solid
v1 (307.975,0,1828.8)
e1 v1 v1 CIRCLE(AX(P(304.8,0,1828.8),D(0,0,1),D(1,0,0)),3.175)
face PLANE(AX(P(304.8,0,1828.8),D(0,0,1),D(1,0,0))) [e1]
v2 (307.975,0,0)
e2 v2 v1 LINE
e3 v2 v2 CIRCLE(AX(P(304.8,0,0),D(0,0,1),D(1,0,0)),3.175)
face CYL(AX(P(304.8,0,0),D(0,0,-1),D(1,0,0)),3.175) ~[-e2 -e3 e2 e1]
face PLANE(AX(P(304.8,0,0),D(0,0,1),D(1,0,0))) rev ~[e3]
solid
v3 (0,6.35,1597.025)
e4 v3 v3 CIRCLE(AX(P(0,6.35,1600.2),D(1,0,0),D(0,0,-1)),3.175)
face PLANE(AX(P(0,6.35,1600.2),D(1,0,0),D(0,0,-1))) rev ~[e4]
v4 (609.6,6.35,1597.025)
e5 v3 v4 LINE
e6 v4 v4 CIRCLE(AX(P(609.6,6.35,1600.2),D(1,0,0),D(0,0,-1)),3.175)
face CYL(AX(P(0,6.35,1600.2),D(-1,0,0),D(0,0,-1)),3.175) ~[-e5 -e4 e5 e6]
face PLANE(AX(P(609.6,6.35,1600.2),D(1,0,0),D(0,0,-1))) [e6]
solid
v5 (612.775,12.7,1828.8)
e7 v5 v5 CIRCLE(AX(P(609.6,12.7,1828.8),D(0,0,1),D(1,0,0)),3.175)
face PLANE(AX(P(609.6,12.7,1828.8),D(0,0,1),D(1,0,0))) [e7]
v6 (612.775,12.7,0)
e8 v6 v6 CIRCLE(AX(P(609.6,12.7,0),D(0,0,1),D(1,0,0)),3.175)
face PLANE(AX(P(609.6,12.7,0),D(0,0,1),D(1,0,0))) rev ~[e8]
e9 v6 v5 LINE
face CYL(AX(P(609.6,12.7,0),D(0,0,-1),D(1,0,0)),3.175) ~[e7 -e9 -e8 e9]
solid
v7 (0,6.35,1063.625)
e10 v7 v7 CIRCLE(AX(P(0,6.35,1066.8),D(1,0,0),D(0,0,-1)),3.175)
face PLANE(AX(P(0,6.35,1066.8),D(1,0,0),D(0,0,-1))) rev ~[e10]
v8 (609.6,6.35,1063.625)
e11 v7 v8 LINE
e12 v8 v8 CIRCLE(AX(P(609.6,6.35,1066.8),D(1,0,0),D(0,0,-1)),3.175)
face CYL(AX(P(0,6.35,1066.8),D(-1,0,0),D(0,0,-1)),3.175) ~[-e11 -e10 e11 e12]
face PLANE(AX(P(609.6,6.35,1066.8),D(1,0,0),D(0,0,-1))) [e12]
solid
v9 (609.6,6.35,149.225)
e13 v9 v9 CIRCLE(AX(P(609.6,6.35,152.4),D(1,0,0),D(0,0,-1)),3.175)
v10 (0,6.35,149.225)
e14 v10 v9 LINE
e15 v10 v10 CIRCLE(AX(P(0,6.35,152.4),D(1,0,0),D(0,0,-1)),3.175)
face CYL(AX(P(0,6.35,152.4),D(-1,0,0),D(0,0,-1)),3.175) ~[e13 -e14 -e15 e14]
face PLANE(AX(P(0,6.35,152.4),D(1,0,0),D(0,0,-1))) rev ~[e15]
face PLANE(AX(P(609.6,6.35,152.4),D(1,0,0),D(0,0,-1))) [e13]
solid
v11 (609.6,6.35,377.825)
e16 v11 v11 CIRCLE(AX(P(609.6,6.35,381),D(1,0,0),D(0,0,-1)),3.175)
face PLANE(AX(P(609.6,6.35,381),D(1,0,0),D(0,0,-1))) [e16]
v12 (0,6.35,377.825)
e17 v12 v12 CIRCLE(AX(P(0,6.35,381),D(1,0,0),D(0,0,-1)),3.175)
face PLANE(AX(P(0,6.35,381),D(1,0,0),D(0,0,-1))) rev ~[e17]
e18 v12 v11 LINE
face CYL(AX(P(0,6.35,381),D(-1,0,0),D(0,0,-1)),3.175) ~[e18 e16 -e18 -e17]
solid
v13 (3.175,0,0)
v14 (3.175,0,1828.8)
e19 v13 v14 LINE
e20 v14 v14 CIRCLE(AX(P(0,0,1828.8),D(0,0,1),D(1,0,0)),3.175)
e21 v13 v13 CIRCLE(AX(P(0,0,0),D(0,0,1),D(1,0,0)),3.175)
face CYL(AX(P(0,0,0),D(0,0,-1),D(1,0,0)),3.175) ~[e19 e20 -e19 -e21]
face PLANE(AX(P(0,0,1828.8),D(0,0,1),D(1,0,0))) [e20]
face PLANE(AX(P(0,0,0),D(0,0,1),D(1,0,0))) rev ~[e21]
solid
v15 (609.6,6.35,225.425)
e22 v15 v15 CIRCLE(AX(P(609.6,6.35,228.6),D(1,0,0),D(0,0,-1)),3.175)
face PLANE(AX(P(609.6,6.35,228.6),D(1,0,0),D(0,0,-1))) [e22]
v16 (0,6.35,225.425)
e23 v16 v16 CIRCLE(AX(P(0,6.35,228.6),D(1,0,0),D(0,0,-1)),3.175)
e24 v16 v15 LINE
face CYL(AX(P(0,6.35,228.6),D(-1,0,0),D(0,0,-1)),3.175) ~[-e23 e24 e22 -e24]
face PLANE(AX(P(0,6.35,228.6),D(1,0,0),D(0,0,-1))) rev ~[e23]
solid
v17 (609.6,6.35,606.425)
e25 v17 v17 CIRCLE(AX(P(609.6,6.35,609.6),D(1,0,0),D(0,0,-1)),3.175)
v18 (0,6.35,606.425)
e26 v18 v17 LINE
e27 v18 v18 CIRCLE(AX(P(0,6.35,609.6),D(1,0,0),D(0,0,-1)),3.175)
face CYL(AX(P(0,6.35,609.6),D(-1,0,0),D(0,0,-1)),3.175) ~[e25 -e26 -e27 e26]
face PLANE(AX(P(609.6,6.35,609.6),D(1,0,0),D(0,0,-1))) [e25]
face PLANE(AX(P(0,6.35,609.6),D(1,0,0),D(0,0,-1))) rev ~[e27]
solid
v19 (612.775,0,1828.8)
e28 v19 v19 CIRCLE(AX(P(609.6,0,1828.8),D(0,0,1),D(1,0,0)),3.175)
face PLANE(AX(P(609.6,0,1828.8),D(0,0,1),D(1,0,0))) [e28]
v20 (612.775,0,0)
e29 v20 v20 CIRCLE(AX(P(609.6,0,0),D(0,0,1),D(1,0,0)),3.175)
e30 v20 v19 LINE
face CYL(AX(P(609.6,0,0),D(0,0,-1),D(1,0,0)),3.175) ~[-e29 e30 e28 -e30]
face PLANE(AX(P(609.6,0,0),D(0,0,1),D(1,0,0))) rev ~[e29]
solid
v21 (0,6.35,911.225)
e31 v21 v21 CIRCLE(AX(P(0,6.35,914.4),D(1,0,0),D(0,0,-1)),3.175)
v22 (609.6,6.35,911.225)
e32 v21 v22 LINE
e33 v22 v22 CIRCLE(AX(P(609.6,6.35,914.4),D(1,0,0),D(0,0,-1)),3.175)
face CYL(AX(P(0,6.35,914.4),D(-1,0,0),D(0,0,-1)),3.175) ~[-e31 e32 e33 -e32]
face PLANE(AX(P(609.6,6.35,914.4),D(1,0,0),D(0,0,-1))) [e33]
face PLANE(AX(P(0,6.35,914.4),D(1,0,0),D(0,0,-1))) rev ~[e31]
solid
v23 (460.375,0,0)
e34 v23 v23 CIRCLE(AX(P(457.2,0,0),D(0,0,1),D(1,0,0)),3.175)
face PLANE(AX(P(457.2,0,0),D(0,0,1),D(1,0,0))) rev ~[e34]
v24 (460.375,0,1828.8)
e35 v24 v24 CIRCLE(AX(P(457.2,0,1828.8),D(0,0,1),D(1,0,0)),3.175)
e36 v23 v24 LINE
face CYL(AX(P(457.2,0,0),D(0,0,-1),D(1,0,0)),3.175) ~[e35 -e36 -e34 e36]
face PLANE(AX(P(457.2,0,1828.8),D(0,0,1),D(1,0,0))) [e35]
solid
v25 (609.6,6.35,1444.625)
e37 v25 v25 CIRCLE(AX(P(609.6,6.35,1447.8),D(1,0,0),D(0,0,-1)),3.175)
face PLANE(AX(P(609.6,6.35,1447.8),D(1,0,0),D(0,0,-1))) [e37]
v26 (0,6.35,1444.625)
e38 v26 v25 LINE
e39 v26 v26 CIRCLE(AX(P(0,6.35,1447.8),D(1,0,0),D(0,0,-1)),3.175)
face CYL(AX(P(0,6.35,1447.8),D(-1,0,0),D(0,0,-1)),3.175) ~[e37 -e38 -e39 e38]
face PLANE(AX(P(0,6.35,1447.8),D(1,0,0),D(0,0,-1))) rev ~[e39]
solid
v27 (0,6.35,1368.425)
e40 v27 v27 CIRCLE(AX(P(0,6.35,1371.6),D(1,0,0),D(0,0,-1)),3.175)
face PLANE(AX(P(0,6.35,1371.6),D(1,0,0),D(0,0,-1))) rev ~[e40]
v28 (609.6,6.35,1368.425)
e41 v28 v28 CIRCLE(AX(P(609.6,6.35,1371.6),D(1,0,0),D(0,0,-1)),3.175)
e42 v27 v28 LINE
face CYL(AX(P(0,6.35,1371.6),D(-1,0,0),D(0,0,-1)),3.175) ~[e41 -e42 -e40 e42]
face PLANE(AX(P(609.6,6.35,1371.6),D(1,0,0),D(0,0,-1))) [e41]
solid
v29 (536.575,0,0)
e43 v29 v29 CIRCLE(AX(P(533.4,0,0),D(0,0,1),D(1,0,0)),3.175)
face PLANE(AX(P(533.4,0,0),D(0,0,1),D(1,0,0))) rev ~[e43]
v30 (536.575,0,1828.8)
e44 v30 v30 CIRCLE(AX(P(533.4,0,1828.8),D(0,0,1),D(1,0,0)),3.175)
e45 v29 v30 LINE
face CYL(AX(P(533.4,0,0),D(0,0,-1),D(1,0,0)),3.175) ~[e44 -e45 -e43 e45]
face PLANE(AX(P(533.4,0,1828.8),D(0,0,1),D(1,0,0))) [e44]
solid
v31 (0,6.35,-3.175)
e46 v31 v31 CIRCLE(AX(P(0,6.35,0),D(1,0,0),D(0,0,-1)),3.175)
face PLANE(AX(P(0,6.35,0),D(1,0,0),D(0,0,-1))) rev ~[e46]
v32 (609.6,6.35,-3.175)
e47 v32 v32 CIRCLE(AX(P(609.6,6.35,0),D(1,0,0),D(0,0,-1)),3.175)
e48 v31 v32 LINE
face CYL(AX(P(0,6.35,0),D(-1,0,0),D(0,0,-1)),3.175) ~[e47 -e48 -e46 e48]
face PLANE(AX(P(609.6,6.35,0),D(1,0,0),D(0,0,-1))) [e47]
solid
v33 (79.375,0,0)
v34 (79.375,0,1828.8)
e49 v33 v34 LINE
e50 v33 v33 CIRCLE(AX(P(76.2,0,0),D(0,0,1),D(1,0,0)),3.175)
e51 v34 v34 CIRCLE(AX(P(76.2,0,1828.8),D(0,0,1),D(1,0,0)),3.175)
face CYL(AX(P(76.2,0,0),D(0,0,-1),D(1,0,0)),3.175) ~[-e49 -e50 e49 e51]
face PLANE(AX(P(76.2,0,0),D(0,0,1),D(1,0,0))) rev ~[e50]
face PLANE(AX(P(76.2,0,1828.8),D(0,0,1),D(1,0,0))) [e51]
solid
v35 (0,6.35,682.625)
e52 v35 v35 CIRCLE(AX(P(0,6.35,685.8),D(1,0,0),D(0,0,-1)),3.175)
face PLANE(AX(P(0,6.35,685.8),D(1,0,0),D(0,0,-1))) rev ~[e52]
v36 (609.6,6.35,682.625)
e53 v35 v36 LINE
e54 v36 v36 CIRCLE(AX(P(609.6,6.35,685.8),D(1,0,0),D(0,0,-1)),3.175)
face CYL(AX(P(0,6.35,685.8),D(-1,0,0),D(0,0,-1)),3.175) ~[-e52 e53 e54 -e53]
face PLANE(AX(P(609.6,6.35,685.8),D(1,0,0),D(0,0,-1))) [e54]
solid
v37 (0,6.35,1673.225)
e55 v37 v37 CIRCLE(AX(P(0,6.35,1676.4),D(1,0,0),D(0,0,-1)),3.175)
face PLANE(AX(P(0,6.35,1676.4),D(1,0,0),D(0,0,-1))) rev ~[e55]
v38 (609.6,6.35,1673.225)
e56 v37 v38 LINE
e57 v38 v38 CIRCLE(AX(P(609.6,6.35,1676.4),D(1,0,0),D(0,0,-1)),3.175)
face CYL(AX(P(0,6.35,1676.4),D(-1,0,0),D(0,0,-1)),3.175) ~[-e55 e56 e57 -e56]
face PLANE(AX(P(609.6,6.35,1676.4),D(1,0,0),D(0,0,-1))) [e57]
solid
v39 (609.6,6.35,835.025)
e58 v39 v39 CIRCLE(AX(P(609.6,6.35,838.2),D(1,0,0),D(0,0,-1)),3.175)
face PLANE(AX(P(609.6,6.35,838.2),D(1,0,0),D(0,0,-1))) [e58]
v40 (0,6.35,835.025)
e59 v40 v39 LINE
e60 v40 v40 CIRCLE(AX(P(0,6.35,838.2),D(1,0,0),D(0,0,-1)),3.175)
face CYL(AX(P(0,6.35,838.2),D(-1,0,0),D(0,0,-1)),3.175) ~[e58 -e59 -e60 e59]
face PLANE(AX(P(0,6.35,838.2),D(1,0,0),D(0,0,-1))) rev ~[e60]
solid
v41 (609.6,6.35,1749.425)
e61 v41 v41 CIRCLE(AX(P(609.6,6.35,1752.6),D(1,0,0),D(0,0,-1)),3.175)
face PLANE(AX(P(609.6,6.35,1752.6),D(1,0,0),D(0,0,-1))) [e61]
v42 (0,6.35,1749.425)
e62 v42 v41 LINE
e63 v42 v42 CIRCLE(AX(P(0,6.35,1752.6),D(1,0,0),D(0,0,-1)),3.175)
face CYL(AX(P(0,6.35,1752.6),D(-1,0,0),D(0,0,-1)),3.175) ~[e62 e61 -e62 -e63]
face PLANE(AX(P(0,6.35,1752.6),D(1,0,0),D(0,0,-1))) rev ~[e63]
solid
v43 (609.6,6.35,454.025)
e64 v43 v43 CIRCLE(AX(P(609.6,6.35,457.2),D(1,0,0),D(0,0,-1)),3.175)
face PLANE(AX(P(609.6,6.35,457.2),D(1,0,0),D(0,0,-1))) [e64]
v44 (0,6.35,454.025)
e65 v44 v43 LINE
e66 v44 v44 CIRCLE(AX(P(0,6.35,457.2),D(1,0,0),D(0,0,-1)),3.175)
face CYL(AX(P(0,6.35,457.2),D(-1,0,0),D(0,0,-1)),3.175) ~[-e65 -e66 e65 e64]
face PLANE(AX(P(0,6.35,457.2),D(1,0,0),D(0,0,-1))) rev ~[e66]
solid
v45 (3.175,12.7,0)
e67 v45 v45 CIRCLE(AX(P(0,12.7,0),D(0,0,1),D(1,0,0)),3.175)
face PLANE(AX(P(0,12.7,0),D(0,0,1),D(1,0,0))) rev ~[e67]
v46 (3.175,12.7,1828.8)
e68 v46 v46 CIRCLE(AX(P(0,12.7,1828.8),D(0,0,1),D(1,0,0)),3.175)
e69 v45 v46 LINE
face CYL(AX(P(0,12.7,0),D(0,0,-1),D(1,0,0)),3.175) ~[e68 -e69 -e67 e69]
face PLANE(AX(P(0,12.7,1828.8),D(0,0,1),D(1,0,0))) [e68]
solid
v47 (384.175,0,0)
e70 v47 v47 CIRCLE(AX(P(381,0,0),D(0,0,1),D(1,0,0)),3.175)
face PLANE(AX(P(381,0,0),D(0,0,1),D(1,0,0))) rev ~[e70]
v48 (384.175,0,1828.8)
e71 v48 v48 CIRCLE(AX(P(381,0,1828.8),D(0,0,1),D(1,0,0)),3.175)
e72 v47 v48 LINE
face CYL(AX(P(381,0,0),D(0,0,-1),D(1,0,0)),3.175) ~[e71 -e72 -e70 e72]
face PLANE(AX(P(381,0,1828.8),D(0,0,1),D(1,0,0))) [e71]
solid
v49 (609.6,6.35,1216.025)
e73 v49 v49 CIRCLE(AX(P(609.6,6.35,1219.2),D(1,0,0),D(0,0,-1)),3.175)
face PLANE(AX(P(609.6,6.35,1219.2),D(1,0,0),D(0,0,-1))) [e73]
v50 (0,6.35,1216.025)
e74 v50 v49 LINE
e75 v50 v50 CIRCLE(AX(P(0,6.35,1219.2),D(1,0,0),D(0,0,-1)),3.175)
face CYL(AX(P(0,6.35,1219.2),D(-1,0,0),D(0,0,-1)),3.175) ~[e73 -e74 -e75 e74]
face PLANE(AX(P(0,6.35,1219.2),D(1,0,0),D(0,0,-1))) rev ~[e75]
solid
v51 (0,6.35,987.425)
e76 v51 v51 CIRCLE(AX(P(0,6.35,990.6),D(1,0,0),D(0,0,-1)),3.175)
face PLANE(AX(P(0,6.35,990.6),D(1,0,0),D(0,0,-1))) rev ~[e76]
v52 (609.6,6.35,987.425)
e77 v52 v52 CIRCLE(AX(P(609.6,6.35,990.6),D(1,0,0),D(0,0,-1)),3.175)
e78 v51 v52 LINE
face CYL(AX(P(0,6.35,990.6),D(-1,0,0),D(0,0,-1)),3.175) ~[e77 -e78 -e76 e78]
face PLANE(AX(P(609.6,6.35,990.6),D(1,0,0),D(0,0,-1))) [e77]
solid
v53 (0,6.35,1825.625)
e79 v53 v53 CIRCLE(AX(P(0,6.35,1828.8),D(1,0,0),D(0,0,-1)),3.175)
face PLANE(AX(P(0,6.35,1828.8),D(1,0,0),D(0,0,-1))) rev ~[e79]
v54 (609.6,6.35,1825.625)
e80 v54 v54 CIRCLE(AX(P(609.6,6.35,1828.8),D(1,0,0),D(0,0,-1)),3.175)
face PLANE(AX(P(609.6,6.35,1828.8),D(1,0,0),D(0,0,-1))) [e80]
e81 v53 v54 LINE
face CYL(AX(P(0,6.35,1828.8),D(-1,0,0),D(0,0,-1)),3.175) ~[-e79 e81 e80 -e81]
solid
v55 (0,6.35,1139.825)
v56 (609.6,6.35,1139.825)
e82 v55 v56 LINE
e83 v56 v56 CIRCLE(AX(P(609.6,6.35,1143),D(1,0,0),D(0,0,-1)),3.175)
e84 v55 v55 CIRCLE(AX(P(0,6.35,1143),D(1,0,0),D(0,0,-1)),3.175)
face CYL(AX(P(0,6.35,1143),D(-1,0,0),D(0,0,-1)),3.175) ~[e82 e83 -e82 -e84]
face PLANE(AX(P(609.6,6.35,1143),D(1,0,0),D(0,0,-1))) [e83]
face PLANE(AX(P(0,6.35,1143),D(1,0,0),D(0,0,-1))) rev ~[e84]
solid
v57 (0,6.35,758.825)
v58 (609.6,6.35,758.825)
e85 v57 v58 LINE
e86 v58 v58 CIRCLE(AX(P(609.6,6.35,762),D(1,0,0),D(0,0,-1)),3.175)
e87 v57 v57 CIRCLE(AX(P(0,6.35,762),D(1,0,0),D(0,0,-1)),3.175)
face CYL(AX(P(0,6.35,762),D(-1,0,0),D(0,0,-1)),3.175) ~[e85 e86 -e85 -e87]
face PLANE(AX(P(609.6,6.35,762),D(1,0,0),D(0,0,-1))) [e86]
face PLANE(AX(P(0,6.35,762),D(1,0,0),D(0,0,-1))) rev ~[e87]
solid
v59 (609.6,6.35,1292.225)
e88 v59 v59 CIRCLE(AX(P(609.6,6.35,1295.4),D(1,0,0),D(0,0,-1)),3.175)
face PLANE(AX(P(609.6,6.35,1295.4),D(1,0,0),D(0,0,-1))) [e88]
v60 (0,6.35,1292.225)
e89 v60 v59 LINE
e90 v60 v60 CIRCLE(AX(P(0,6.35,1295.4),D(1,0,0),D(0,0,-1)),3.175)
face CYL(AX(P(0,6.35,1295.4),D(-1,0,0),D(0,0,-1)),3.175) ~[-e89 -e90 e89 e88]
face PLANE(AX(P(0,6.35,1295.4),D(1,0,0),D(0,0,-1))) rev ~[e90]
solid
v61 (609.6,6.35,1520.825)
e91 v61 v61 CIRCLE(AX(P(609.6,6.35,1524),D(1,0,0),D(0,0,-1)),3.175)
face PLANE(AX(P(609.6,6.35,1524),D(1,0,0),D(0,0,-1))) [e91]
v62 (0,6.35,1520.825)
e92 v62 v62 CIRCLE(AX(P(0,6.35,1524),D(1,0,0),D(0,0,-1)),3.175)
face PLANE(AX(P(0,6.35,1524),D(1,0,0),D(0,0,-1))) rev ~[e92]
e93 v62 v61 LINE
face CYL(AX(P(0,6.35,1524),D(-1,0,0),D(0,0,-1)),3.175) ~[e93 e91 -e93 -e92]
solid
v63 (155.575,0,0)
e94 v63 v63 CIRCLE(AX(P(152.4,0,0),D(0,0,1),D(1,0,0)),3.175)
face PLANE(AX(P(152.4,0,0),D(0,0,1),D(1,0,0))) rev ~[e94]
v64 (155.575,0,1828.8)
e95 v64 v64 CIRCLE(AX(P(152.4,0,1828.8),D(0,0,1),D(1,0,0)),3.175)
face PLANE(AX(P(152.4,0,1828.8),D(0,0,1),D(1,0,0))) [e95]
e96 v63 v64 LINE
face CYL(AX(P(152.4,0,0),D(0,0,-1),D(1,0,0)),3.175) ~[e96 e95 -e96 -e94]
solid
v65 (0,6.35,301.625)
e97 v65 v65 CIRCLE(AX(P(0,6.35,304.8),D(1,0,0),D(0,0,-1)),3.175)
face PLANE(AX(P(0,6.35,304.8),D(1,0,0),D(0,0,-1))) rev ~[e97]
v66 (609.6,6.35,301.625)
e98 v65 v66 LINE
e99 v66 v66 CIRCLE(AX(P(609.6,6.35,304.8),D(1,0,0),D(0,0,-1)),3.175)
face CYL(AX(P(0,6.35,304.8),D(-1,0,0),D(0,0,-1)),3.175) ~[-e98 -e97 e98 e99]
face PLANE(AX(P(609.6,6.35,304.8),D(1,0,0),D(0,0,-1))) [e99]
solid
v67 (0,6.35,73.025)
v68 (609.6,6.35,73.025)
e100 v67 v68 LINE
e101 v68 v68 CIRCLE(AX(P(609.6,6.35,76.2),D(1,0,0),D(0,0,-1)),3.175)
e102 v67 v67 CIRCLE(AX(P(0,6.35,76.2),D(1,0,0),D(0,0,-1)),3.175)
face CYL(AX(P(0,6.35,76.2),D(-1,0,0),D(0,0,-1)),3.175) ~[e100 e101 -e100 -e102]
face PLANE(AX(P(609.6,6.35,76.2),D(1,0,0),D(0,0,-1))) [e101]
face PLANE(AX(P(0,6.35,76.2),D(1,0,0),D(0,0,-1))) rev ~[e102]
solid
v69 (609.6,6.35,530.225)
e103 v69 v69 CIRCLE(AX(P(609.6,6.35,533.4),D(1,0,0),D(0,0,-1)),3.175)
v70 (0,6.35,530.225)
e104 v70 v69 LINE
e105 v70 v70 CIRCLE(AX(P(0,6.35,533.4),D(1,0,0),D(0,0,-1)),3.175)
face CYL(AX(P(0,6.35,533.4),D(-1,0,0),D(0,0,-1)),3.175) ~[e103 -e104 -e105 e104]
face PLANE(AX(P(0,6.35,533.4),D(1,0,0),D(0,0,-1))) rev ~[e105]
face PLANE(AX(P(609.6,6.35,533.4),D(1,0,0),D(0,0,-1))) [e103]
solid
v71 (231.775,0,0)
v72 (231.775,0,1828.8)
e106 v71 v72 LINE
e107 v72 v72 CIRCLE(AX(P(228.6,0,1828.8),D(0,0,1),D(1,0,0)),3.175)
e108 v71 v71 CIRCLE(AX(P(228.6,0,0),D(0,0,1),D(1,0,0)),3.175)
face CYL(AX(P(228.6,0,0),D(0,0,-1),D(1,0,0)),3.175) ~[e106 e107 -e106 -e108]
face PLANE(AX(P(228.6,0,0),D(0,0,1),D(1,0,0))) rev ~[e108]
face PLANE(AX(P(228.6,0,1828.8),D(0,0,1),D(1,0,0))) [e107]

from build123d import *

# Parameters (mm, degrees)
SKETCH1_R              = 3.175
BOSS_EXTRUDE1_DEPTH    = 1828.8
BOSS_EXTRUDE1_2_DEPTH  = 1828.8
BOSS_EXTRUDE1_3_DEPTH  = 1828.8
BOSS_EXTRUDE1_4_DEPTH  = 1828.8
BOSS_EXTRUDE1_5_DEPTH  = 1828.8
BOSS_EXTRUDE1_6_DEPTH  = 1828.8
BOSS_EXTRUDE1_7_DEPTH  = 1828.8
BOSS_EXTRUDE1_8_DEPTH  = 1828.8
BOSS_EXTRUDE1_9_DEPTH  = 1828.8
BOSS_EXTRUDE1_10_DEPTH = 1828.8
BOSS_EXTRUDE1_11_DEPTH = 1828.8
SKETCH2_R              = 3.175
BOSS_EXTRUDE2_DEPTH    = 609.6
BOSS_EXTRUDE2_2_DEPTH  = 609.6
BOSS_EXTRUDE2_3_DEPTH  = 609.6
BOSS_EXTRUDE2_4_DEPTH  = 609.6
BOSS_EXTRUDE2_5_DEPTH  = 609.6
BOSS_EXTRUDE2_6_DEPTH  = 609.6
BOSS_EXTRUDE2_7_DEPTH  = 609.6
BOSS_EXTRUDE2_8_DEPTH  = 609.6
BOSS_EXTRUDE2_9_DEPTH  = 609.6
BOSS_EXTRUDE2_10_DEPTH = 609.6
BOSS_EXTRUDE2_11_DEPTH = 609.6
BOSS_EXTRUDE2_12_DEPTH = 609.6
BOSS_EXTRUDE2_13_DEPTH = 609.6
BOSS_EXTRUDE2_14_DEPTH = 609.6
BOSS_EXTRUDE2_15_DEPTH = 609.6
BOSS_EXTRUDE2_16_DEPTH = 609.6
BOSS_EXTRUDE2_17_DEPTH = 609.6
BOSS_EXTRUDE2_18_DEPTH = 609.6
BOSS_EXTRUDE2_19_DEPTH = 609.6
BOSS_EXTRUDE2_20_DEPTH = 609.6
BOSS_EXTRUDE2_21_DEPTH = 609.6
BOSS_EXTRUDE2_22_DEPTH = 609.6
BOSS_EXTRUDE2_23_DEPTH = 609.6
BOSS_EXTRUDE2_24_DEPTH = 609.6
BOSS_EXTRUDE2_25_DEPTH = 609.6


with BuildPart() as part:
    # Sketch1 → Boss-Extrude1 (new body)
    with BuildSketch(Plane.XY):
        Circle(SKETCH1_R)
    extrude(amount=BOSS_EXTRUDE1_DEPTH)


with BuildPart() as body_2:
    # Sketch1 → Boss-Extrude1 2 (new body)
    with BuildSketch(Plane.XY):
        with Locations((0, 12.7)):
            Circle(SKETCH1_R)
    extrude(amount=BOSS_EXTRUDE1_2_DEPTH)


with BuildPart() as body_3:
    # Sketch1 → Boss-Extrude1 3 (new body)
    with BuildSketch(Plane.XY):
        with Locations((76.2, 0)):
            Circle(SKETCH1_R)
    extrude(amount=BOSS_EXTRUDE1_3_DEPTH)


with BuildPart() as body_4:
    # Sketch1 → Boss-Extrude1 4 (new body)
    with BuildSketch(Plane.XY):
        with Locations((152.4, 0)):
            Circle(SKETCH1_R)
    extrude(amount=BOSS_EXTRUDE1_4_DEPTH)


with BuildPart() as body_5:
    # Sketch1 → Boss-Extrude1 5 (new body)
    with BuildSketch(Plane.XY):
        with Locations((228.6, 0)):
            Circle(SKETCH1_R)
    extrude(amount=BOSS_EXTRUDE1_5_DEPTH)


with BuildPart() as body_6:
    # Sketch1 → Boss-Extrude1 6 (new body)
    with BuildSketch(Plane.XY):
        with Locations((304.8, 0)):
            Circle(SKETCH1_R)
    extrude(amount=BOSS_EXTRUDE1_6_DEPTH)


with BuildPart() as body_7:
    # Sketch1 → Boss-Extrude1 7 (new body)
    with BuildSketch(Plane.XY):
        with Locations((381, 0)):
            Circle(SKETCH1_R)
    extrude(amount=BOSS_EXTRUDE1_7_DEPTH)


with BuildPart() as body_8:
    # Sketch1 → Boss-Extrude1 8 (new body)
    with BuildSketch(Plane.XY):
        with Locations((457.2, 0)):
            Circle(SKETCH1_R)
    extrude(amount=BOSS_EXTRUDE1_8_DEPTH)


with BuildPart() as body_9:
    # Sketch1 → Boss-Extrude1 9 (new body)
    with BuildSketch(Plane.XY):
        with Locations((533.4, 0)):
            Circle(SKETCH1_R)
    extrude(amount=BOSS_EXTRUDE1_9_DEPTH)


with BuildPart() as body_10:
    # Sketch1 → Boss-Extrude1 10 (new body)
    with BuildSketch(Plane.XY):
        with Locations((609.6, 0)):
            Circle(SKETCH1_R)
    extrude(amount=BOSS_EXTRUDE1_10_DEPTH)


with BuildPart() as body_11:
    # Sketch1 → Boss-Extrude1 11 (new body)
    with BuildSketch(Plane.XY):
        with Locations((609.6, 12.7)):
            Circle(SKETCH1_R)
    extrude(amount=BOSS_EXTRUDE1_11_DEPTH)


with BuildPart() as body_12:
    # Sketch2 → Boss-Extrude2 (new body)
    with BuildSketch(Plane(origin=(0, 0, 0), x_dir=(0, 0, -1), z_dir=(1, 0, 0))):
        with Locations((0, 6.35)):
            Circle(SKETCH2_R)
    extrude(amount=BOSS_EXTRUDE2_DEPTH)


with BuildPart() as body_13:
    # Sketch2 → Boss-Extrude2 2 (new body)
    with BuildSketch(Plane(origin=(0, 0, 0), x_dir=(0, 0, -1), z_dir=(1, 0, 0))):
        with Locations((-76.2, 6.35)):
            Circle(SKETCH2_R)
    extrude(amount=BOSS_EXTRUDE2_2_DEPTH)


with BuildPart() as body_14:
    # Sketch2 → Boss-Extrude2 3 (new body)
    with BuildSketch(Plane(origin=(0, 0, 0), x_dir=(0, 0, -1), z_dir=(1, 0, 0))):
        with Locations((-152.4, 6.35)):
            Circle(SKETCH2_R)
    extrude(amount=BOSS_EXTRUDE2_3_DEPTH)


with BuildPart() as body_15:
    # Sketch2 → Boss-Extrude2 4 (new body)
    with BuildSketch(Plane(origin=(0, 0, 0), x_dir=(0, 0, -1), z_dir=(1, 0, 0))):
        with Locations((-228.6, 6.35)):
            Circle(SKETCH2_R)
    extrude(amount=BOSS_EXTRUDE2_4_DEPTH)


with BuildPart() as body_16:
    # Sketch2 → Boss-Extrude2 5 (new body)
    with BuildSketch(Plane(origin=(0, 0, 0), x_dir=(0, 0, -1), z_dir=(1, 0, 0))):
        with Locations((-304.8, 6.35)):
            Circle(SKETCH2_R)
    extrude(amount=BOSS_EXTRUDE2_5_DEPTH)


with BuildPart() as body_17:
    # Sketch2 → Boss-Extrude2 6 (new body)
    with BuildSketch(Plane(origin=(0, 0, 0), x_dir=(0, 0, -1), z_dir=(1, 0, 0))):
        with Locations((-381, 6.35)):
            Circle(SKETCH2_R)
    extrude(amount=BOSS_EXTRUDE2_6_DEPTH)


with BuildPart() as body_18:
    # Sketch2 → Boss-Extrude2 7 (new body)
    with BuildSketch(Plane(origin=(0, 0, 0), x_dir=(0, 0, -1), z_dir=(1, 0, 0))):
        with Locations((-457.2, 6.35)):
            Circle(SKETCH2_R)
    extrude(amount=BOSS_EXTRUDE2_7_DEPTH)


with BuildPart() as body_19:
    # Sketch2 → Boss-Extrude2 8 (new body)
    with BuildSketch(Plane(origin=(0, 0, 0), x_dir=(0, 0, -1), z_dir=(1, 0, 0))):
        with Locations((-533.4, 6.35)):
            Circle(SKETCH2_R)
    extrude(amount=BOSS_EXTRUDE2_8_DEPTH)


with BuildPart() as body_20:
    # Sketch2 → Boss-Extrude2 9 (new body)
    with BuildSketch(Plane(origin=(0, 0, 0), x_dir=(0, 0, -1), z_dir=(1, 0, 0))):
        with Locations((-609.6, 6.35)):
            Circle(SKETCH2_R)
    extrude(amount=BOSS_EXTRUDE2_9_DEPTH)


with BuildPart() as body_21:
    # Sketch2 → Boss-Extrude2 10 (new body)
    with BuildSketch(Plane(origin=(0, 0, 0), x_dir=(0, 0, -1), z_dir=(1, 0, 0))):
        with Locations((-685.8, 6.35)):
            Circle(SKETCH2_R)
    extrude(amount=BOSS_EXTRUDE2_10_DEPTH)


with BuildPart() as body_22:
    # Sketch2 → Boss-Extrude2 11 (new body)
    with BuildSketch(Plane(origin=(0, 0, 0), x_dir=(0, 0, -1), z_dir=(1, 0, 0))):
        with Locations((-762, 6.35)):
            Circle(SKETCH2_R)
    extrude(amount=BOSS_EXTRUDE2_11_DEPTH)


with BuildPart() as body_23:
    # Sketch2 → Boss-Extrude2 12 (new body)
    with BuildSketch(Plane(origin=(0, 0, 0), x_dir=(0, 0, -1), z_dir=(1, 0, 0))):
        with Locations((-838.2, 6.35)):
            Circle(SKETCH2_R)
    extrude(amount=BOSS_EXTRUDE2_12_DEPTH)


with BuildPart() as body_24:
    # Sketch2 → Boss-Extrude2 13 (new body)
    with BuildSketch(Plane(origin=(0, 0, 0), x_dir=(0, 0, -1), z_dir=(1, 0, 0))):
        with Locations((-914.4, 6.35)):
            Circle(SKETCH2_R)
    extrude(amount=BOSS_EXTRUDE2_13_DEPTH)


with BuildPart() as body_25:
    # Sketch2 → Boss-Extrude2 14 (new body)
    with BuildSketch(Plane(origin=(0, 0, 0), x_dir=(0, 0, -1), z_dir=(1, 0, 0))):
        with Locations((-990.6, 6.35)):
            Circle(SKETCH2_R)
    extrude(amount=BOSS_EXTRUDE2_14_DEPTH)


with BuildPart() as body_26:
    # Sketch2 → Boss-Extrude2 15 (new body)
    with BuildSketch(Plane(origin=(0, 0, 0), x_dir=(0, 0, -1), z_dir=(1, 0, 0))):
        with Locations((-1066.8, 6.35)):
            Circle(SKETCH2_R)
    extrude(amount=BOSS_EXTRUDE2_15_DEPTH)


with BuildPart() as body_27:
    # Sketch2 → Boss-Extrude2 16 (new body)
    with BuildSketch(Plane(origin=(0, 0, 0), x_dir=(0, 0, -1), z_dir=(1, 0, 0))):
        with Locations((-1143, 6.35)):
            Circle(SKETCH2_R)
    extrude(amount=BOSS_EXTRUDE2_16_DEPTH)


with BuildPart() as body_28:
    # Sketch2 → Boss-Extrude2 17 (new body)
    with BuildSketch(Plane(origin=(0, 0, 0), x_dir=(0, 0, -1), z_dir=(1, 0, 0))):
        with Locations((-1219.2, 6.35)):
            Circle(SKETCH2_R)
    extrude(amount=BOSS_EXTRUDE2_17_DEPTH)


with BuildPart() as body_29:
    # Sketch2 → Boss-Extrude2 18 (new body)
    with BuildSketch(Plane(origin=(0, 0, 0), x_dir=(0, 0, -1), z_dir=(1, 0, 0))):
        with Locations((-1295.4, 6.35)):
            Circle(SKETCH2_R)
    extrude(amount=BOSS_EXTRUDE2_18_DEPTH)


with BuildPart() as body_30:
    # Sketch2 → Boss-Extrude2 19 (new body)
    with BuildSketch(Plane(origin=(0, 0, 0), x_dir=(0, 0, -1), z_dir=(1, 0, 0))):
        with Locations((-1371.6, 6.35)):
            Circle(SKETCH2_R)
    extrude(amount=BOSS_EXTRUDE2_19_DEPTH)


with BuildPart() as body_31:
    # Sketch2 → Boss-Extrude2 20 (new body)
    with BuildSketch(Plane(origin=(0, 0, 0), x_dir=(0, 0, -1), z_dir=(1, 0, 0))):
        with Locations((-1447.8, 6.35)):
            Circle(SKETCH2_R)
    extrude(amount=BOSS_EXTRUDE2_20_DEPTH)


with BuildPart() as body_32:
    # Sketch2 → Boss-Extrude2 21 (new body)
    with BuildSketch(Plane(origin=(0, 0, 0), x_dir=(0, 0, -1), z_dir=(1, 0, 0))):
        with Locations((-1524, 6.35)):
            Circle(SKETCH2_R)
    extrude(amount=BOSS_EXTRUDE2_21_DEPTH)


with BuildPart() as body_33:
    # Sketch2 → Boss-Extrude2 22 (new body)
    with BuildSketch(Plane(origin=(0, 0, 0), x_dir=(0, 0, -1), z_dir=(1, 0, 0))):
        with Locations((-1600.2, 6.35)):
            Circle(SKETCH2_R)
    extrude(amount=BOSS_EXTRUDE2_22_DEPTH)


with BuildPart() as body_34:
    # Sketch2 → Boss-Extrude2 23 (new body)
    with BuildSketch(Plane(origin=(0, 0, 0), x_dir=(0, 0, -1), z_dir=(1, 0, 0))):
        with Locations((-1676.4, 6.35)):
            Circle(SKETCH2_R)
    extrude(amount=BOSS_EXTRUDE2_23_DEPTH)


with BuildPart() as body_35:
    # Sketch2 → Boss-Extrude2 24 (new body)
    with BuildSketch(Plane(origin=(0, 0, 0), x_dir=(0, 0, -1), z_dir=(1, 0, 0))):
        with Locations((-1752.6, 6.35)):
            Circle(SKETCH2_R)
    extrude(amount=BOSS_EXTRUDE2_24_DEPTH)


with BuildPart() as body_36:
    # Sketch2 → Boss-Extrude2 25 (new body)
    with BuildSketch(Plane(origin=(0, 0, 0), x_dir=(0, 0, -1), z_dir=(1, 0, 0))):
        with Locations((-1828.8, 6.35)):
            Circle(SKETCH2_R)
    extrude(amount=BOSS_EXTRUDE2_25_DEPTH)


solid = Compound([part.part, body_2.part, body_3.part, body_4.part, body_5.part, body_6.part, body_7.part, body_8.part, body_9.part, body_10.part, body_11.part, body_12.part, body_13.part, body_14.part, body_15.part, body_16.part, body_17.part, body_18.part, body_19.part, body_20.part, body_21.part, body_22.part, body_23.part, body_24.part, body_25.part, body_26.part, body_27.part, body_28.part, body_29.part, body_30.part, body_31.part, body_32.part, body_33.part, body_34.part, body_35.part, body_36.part])
